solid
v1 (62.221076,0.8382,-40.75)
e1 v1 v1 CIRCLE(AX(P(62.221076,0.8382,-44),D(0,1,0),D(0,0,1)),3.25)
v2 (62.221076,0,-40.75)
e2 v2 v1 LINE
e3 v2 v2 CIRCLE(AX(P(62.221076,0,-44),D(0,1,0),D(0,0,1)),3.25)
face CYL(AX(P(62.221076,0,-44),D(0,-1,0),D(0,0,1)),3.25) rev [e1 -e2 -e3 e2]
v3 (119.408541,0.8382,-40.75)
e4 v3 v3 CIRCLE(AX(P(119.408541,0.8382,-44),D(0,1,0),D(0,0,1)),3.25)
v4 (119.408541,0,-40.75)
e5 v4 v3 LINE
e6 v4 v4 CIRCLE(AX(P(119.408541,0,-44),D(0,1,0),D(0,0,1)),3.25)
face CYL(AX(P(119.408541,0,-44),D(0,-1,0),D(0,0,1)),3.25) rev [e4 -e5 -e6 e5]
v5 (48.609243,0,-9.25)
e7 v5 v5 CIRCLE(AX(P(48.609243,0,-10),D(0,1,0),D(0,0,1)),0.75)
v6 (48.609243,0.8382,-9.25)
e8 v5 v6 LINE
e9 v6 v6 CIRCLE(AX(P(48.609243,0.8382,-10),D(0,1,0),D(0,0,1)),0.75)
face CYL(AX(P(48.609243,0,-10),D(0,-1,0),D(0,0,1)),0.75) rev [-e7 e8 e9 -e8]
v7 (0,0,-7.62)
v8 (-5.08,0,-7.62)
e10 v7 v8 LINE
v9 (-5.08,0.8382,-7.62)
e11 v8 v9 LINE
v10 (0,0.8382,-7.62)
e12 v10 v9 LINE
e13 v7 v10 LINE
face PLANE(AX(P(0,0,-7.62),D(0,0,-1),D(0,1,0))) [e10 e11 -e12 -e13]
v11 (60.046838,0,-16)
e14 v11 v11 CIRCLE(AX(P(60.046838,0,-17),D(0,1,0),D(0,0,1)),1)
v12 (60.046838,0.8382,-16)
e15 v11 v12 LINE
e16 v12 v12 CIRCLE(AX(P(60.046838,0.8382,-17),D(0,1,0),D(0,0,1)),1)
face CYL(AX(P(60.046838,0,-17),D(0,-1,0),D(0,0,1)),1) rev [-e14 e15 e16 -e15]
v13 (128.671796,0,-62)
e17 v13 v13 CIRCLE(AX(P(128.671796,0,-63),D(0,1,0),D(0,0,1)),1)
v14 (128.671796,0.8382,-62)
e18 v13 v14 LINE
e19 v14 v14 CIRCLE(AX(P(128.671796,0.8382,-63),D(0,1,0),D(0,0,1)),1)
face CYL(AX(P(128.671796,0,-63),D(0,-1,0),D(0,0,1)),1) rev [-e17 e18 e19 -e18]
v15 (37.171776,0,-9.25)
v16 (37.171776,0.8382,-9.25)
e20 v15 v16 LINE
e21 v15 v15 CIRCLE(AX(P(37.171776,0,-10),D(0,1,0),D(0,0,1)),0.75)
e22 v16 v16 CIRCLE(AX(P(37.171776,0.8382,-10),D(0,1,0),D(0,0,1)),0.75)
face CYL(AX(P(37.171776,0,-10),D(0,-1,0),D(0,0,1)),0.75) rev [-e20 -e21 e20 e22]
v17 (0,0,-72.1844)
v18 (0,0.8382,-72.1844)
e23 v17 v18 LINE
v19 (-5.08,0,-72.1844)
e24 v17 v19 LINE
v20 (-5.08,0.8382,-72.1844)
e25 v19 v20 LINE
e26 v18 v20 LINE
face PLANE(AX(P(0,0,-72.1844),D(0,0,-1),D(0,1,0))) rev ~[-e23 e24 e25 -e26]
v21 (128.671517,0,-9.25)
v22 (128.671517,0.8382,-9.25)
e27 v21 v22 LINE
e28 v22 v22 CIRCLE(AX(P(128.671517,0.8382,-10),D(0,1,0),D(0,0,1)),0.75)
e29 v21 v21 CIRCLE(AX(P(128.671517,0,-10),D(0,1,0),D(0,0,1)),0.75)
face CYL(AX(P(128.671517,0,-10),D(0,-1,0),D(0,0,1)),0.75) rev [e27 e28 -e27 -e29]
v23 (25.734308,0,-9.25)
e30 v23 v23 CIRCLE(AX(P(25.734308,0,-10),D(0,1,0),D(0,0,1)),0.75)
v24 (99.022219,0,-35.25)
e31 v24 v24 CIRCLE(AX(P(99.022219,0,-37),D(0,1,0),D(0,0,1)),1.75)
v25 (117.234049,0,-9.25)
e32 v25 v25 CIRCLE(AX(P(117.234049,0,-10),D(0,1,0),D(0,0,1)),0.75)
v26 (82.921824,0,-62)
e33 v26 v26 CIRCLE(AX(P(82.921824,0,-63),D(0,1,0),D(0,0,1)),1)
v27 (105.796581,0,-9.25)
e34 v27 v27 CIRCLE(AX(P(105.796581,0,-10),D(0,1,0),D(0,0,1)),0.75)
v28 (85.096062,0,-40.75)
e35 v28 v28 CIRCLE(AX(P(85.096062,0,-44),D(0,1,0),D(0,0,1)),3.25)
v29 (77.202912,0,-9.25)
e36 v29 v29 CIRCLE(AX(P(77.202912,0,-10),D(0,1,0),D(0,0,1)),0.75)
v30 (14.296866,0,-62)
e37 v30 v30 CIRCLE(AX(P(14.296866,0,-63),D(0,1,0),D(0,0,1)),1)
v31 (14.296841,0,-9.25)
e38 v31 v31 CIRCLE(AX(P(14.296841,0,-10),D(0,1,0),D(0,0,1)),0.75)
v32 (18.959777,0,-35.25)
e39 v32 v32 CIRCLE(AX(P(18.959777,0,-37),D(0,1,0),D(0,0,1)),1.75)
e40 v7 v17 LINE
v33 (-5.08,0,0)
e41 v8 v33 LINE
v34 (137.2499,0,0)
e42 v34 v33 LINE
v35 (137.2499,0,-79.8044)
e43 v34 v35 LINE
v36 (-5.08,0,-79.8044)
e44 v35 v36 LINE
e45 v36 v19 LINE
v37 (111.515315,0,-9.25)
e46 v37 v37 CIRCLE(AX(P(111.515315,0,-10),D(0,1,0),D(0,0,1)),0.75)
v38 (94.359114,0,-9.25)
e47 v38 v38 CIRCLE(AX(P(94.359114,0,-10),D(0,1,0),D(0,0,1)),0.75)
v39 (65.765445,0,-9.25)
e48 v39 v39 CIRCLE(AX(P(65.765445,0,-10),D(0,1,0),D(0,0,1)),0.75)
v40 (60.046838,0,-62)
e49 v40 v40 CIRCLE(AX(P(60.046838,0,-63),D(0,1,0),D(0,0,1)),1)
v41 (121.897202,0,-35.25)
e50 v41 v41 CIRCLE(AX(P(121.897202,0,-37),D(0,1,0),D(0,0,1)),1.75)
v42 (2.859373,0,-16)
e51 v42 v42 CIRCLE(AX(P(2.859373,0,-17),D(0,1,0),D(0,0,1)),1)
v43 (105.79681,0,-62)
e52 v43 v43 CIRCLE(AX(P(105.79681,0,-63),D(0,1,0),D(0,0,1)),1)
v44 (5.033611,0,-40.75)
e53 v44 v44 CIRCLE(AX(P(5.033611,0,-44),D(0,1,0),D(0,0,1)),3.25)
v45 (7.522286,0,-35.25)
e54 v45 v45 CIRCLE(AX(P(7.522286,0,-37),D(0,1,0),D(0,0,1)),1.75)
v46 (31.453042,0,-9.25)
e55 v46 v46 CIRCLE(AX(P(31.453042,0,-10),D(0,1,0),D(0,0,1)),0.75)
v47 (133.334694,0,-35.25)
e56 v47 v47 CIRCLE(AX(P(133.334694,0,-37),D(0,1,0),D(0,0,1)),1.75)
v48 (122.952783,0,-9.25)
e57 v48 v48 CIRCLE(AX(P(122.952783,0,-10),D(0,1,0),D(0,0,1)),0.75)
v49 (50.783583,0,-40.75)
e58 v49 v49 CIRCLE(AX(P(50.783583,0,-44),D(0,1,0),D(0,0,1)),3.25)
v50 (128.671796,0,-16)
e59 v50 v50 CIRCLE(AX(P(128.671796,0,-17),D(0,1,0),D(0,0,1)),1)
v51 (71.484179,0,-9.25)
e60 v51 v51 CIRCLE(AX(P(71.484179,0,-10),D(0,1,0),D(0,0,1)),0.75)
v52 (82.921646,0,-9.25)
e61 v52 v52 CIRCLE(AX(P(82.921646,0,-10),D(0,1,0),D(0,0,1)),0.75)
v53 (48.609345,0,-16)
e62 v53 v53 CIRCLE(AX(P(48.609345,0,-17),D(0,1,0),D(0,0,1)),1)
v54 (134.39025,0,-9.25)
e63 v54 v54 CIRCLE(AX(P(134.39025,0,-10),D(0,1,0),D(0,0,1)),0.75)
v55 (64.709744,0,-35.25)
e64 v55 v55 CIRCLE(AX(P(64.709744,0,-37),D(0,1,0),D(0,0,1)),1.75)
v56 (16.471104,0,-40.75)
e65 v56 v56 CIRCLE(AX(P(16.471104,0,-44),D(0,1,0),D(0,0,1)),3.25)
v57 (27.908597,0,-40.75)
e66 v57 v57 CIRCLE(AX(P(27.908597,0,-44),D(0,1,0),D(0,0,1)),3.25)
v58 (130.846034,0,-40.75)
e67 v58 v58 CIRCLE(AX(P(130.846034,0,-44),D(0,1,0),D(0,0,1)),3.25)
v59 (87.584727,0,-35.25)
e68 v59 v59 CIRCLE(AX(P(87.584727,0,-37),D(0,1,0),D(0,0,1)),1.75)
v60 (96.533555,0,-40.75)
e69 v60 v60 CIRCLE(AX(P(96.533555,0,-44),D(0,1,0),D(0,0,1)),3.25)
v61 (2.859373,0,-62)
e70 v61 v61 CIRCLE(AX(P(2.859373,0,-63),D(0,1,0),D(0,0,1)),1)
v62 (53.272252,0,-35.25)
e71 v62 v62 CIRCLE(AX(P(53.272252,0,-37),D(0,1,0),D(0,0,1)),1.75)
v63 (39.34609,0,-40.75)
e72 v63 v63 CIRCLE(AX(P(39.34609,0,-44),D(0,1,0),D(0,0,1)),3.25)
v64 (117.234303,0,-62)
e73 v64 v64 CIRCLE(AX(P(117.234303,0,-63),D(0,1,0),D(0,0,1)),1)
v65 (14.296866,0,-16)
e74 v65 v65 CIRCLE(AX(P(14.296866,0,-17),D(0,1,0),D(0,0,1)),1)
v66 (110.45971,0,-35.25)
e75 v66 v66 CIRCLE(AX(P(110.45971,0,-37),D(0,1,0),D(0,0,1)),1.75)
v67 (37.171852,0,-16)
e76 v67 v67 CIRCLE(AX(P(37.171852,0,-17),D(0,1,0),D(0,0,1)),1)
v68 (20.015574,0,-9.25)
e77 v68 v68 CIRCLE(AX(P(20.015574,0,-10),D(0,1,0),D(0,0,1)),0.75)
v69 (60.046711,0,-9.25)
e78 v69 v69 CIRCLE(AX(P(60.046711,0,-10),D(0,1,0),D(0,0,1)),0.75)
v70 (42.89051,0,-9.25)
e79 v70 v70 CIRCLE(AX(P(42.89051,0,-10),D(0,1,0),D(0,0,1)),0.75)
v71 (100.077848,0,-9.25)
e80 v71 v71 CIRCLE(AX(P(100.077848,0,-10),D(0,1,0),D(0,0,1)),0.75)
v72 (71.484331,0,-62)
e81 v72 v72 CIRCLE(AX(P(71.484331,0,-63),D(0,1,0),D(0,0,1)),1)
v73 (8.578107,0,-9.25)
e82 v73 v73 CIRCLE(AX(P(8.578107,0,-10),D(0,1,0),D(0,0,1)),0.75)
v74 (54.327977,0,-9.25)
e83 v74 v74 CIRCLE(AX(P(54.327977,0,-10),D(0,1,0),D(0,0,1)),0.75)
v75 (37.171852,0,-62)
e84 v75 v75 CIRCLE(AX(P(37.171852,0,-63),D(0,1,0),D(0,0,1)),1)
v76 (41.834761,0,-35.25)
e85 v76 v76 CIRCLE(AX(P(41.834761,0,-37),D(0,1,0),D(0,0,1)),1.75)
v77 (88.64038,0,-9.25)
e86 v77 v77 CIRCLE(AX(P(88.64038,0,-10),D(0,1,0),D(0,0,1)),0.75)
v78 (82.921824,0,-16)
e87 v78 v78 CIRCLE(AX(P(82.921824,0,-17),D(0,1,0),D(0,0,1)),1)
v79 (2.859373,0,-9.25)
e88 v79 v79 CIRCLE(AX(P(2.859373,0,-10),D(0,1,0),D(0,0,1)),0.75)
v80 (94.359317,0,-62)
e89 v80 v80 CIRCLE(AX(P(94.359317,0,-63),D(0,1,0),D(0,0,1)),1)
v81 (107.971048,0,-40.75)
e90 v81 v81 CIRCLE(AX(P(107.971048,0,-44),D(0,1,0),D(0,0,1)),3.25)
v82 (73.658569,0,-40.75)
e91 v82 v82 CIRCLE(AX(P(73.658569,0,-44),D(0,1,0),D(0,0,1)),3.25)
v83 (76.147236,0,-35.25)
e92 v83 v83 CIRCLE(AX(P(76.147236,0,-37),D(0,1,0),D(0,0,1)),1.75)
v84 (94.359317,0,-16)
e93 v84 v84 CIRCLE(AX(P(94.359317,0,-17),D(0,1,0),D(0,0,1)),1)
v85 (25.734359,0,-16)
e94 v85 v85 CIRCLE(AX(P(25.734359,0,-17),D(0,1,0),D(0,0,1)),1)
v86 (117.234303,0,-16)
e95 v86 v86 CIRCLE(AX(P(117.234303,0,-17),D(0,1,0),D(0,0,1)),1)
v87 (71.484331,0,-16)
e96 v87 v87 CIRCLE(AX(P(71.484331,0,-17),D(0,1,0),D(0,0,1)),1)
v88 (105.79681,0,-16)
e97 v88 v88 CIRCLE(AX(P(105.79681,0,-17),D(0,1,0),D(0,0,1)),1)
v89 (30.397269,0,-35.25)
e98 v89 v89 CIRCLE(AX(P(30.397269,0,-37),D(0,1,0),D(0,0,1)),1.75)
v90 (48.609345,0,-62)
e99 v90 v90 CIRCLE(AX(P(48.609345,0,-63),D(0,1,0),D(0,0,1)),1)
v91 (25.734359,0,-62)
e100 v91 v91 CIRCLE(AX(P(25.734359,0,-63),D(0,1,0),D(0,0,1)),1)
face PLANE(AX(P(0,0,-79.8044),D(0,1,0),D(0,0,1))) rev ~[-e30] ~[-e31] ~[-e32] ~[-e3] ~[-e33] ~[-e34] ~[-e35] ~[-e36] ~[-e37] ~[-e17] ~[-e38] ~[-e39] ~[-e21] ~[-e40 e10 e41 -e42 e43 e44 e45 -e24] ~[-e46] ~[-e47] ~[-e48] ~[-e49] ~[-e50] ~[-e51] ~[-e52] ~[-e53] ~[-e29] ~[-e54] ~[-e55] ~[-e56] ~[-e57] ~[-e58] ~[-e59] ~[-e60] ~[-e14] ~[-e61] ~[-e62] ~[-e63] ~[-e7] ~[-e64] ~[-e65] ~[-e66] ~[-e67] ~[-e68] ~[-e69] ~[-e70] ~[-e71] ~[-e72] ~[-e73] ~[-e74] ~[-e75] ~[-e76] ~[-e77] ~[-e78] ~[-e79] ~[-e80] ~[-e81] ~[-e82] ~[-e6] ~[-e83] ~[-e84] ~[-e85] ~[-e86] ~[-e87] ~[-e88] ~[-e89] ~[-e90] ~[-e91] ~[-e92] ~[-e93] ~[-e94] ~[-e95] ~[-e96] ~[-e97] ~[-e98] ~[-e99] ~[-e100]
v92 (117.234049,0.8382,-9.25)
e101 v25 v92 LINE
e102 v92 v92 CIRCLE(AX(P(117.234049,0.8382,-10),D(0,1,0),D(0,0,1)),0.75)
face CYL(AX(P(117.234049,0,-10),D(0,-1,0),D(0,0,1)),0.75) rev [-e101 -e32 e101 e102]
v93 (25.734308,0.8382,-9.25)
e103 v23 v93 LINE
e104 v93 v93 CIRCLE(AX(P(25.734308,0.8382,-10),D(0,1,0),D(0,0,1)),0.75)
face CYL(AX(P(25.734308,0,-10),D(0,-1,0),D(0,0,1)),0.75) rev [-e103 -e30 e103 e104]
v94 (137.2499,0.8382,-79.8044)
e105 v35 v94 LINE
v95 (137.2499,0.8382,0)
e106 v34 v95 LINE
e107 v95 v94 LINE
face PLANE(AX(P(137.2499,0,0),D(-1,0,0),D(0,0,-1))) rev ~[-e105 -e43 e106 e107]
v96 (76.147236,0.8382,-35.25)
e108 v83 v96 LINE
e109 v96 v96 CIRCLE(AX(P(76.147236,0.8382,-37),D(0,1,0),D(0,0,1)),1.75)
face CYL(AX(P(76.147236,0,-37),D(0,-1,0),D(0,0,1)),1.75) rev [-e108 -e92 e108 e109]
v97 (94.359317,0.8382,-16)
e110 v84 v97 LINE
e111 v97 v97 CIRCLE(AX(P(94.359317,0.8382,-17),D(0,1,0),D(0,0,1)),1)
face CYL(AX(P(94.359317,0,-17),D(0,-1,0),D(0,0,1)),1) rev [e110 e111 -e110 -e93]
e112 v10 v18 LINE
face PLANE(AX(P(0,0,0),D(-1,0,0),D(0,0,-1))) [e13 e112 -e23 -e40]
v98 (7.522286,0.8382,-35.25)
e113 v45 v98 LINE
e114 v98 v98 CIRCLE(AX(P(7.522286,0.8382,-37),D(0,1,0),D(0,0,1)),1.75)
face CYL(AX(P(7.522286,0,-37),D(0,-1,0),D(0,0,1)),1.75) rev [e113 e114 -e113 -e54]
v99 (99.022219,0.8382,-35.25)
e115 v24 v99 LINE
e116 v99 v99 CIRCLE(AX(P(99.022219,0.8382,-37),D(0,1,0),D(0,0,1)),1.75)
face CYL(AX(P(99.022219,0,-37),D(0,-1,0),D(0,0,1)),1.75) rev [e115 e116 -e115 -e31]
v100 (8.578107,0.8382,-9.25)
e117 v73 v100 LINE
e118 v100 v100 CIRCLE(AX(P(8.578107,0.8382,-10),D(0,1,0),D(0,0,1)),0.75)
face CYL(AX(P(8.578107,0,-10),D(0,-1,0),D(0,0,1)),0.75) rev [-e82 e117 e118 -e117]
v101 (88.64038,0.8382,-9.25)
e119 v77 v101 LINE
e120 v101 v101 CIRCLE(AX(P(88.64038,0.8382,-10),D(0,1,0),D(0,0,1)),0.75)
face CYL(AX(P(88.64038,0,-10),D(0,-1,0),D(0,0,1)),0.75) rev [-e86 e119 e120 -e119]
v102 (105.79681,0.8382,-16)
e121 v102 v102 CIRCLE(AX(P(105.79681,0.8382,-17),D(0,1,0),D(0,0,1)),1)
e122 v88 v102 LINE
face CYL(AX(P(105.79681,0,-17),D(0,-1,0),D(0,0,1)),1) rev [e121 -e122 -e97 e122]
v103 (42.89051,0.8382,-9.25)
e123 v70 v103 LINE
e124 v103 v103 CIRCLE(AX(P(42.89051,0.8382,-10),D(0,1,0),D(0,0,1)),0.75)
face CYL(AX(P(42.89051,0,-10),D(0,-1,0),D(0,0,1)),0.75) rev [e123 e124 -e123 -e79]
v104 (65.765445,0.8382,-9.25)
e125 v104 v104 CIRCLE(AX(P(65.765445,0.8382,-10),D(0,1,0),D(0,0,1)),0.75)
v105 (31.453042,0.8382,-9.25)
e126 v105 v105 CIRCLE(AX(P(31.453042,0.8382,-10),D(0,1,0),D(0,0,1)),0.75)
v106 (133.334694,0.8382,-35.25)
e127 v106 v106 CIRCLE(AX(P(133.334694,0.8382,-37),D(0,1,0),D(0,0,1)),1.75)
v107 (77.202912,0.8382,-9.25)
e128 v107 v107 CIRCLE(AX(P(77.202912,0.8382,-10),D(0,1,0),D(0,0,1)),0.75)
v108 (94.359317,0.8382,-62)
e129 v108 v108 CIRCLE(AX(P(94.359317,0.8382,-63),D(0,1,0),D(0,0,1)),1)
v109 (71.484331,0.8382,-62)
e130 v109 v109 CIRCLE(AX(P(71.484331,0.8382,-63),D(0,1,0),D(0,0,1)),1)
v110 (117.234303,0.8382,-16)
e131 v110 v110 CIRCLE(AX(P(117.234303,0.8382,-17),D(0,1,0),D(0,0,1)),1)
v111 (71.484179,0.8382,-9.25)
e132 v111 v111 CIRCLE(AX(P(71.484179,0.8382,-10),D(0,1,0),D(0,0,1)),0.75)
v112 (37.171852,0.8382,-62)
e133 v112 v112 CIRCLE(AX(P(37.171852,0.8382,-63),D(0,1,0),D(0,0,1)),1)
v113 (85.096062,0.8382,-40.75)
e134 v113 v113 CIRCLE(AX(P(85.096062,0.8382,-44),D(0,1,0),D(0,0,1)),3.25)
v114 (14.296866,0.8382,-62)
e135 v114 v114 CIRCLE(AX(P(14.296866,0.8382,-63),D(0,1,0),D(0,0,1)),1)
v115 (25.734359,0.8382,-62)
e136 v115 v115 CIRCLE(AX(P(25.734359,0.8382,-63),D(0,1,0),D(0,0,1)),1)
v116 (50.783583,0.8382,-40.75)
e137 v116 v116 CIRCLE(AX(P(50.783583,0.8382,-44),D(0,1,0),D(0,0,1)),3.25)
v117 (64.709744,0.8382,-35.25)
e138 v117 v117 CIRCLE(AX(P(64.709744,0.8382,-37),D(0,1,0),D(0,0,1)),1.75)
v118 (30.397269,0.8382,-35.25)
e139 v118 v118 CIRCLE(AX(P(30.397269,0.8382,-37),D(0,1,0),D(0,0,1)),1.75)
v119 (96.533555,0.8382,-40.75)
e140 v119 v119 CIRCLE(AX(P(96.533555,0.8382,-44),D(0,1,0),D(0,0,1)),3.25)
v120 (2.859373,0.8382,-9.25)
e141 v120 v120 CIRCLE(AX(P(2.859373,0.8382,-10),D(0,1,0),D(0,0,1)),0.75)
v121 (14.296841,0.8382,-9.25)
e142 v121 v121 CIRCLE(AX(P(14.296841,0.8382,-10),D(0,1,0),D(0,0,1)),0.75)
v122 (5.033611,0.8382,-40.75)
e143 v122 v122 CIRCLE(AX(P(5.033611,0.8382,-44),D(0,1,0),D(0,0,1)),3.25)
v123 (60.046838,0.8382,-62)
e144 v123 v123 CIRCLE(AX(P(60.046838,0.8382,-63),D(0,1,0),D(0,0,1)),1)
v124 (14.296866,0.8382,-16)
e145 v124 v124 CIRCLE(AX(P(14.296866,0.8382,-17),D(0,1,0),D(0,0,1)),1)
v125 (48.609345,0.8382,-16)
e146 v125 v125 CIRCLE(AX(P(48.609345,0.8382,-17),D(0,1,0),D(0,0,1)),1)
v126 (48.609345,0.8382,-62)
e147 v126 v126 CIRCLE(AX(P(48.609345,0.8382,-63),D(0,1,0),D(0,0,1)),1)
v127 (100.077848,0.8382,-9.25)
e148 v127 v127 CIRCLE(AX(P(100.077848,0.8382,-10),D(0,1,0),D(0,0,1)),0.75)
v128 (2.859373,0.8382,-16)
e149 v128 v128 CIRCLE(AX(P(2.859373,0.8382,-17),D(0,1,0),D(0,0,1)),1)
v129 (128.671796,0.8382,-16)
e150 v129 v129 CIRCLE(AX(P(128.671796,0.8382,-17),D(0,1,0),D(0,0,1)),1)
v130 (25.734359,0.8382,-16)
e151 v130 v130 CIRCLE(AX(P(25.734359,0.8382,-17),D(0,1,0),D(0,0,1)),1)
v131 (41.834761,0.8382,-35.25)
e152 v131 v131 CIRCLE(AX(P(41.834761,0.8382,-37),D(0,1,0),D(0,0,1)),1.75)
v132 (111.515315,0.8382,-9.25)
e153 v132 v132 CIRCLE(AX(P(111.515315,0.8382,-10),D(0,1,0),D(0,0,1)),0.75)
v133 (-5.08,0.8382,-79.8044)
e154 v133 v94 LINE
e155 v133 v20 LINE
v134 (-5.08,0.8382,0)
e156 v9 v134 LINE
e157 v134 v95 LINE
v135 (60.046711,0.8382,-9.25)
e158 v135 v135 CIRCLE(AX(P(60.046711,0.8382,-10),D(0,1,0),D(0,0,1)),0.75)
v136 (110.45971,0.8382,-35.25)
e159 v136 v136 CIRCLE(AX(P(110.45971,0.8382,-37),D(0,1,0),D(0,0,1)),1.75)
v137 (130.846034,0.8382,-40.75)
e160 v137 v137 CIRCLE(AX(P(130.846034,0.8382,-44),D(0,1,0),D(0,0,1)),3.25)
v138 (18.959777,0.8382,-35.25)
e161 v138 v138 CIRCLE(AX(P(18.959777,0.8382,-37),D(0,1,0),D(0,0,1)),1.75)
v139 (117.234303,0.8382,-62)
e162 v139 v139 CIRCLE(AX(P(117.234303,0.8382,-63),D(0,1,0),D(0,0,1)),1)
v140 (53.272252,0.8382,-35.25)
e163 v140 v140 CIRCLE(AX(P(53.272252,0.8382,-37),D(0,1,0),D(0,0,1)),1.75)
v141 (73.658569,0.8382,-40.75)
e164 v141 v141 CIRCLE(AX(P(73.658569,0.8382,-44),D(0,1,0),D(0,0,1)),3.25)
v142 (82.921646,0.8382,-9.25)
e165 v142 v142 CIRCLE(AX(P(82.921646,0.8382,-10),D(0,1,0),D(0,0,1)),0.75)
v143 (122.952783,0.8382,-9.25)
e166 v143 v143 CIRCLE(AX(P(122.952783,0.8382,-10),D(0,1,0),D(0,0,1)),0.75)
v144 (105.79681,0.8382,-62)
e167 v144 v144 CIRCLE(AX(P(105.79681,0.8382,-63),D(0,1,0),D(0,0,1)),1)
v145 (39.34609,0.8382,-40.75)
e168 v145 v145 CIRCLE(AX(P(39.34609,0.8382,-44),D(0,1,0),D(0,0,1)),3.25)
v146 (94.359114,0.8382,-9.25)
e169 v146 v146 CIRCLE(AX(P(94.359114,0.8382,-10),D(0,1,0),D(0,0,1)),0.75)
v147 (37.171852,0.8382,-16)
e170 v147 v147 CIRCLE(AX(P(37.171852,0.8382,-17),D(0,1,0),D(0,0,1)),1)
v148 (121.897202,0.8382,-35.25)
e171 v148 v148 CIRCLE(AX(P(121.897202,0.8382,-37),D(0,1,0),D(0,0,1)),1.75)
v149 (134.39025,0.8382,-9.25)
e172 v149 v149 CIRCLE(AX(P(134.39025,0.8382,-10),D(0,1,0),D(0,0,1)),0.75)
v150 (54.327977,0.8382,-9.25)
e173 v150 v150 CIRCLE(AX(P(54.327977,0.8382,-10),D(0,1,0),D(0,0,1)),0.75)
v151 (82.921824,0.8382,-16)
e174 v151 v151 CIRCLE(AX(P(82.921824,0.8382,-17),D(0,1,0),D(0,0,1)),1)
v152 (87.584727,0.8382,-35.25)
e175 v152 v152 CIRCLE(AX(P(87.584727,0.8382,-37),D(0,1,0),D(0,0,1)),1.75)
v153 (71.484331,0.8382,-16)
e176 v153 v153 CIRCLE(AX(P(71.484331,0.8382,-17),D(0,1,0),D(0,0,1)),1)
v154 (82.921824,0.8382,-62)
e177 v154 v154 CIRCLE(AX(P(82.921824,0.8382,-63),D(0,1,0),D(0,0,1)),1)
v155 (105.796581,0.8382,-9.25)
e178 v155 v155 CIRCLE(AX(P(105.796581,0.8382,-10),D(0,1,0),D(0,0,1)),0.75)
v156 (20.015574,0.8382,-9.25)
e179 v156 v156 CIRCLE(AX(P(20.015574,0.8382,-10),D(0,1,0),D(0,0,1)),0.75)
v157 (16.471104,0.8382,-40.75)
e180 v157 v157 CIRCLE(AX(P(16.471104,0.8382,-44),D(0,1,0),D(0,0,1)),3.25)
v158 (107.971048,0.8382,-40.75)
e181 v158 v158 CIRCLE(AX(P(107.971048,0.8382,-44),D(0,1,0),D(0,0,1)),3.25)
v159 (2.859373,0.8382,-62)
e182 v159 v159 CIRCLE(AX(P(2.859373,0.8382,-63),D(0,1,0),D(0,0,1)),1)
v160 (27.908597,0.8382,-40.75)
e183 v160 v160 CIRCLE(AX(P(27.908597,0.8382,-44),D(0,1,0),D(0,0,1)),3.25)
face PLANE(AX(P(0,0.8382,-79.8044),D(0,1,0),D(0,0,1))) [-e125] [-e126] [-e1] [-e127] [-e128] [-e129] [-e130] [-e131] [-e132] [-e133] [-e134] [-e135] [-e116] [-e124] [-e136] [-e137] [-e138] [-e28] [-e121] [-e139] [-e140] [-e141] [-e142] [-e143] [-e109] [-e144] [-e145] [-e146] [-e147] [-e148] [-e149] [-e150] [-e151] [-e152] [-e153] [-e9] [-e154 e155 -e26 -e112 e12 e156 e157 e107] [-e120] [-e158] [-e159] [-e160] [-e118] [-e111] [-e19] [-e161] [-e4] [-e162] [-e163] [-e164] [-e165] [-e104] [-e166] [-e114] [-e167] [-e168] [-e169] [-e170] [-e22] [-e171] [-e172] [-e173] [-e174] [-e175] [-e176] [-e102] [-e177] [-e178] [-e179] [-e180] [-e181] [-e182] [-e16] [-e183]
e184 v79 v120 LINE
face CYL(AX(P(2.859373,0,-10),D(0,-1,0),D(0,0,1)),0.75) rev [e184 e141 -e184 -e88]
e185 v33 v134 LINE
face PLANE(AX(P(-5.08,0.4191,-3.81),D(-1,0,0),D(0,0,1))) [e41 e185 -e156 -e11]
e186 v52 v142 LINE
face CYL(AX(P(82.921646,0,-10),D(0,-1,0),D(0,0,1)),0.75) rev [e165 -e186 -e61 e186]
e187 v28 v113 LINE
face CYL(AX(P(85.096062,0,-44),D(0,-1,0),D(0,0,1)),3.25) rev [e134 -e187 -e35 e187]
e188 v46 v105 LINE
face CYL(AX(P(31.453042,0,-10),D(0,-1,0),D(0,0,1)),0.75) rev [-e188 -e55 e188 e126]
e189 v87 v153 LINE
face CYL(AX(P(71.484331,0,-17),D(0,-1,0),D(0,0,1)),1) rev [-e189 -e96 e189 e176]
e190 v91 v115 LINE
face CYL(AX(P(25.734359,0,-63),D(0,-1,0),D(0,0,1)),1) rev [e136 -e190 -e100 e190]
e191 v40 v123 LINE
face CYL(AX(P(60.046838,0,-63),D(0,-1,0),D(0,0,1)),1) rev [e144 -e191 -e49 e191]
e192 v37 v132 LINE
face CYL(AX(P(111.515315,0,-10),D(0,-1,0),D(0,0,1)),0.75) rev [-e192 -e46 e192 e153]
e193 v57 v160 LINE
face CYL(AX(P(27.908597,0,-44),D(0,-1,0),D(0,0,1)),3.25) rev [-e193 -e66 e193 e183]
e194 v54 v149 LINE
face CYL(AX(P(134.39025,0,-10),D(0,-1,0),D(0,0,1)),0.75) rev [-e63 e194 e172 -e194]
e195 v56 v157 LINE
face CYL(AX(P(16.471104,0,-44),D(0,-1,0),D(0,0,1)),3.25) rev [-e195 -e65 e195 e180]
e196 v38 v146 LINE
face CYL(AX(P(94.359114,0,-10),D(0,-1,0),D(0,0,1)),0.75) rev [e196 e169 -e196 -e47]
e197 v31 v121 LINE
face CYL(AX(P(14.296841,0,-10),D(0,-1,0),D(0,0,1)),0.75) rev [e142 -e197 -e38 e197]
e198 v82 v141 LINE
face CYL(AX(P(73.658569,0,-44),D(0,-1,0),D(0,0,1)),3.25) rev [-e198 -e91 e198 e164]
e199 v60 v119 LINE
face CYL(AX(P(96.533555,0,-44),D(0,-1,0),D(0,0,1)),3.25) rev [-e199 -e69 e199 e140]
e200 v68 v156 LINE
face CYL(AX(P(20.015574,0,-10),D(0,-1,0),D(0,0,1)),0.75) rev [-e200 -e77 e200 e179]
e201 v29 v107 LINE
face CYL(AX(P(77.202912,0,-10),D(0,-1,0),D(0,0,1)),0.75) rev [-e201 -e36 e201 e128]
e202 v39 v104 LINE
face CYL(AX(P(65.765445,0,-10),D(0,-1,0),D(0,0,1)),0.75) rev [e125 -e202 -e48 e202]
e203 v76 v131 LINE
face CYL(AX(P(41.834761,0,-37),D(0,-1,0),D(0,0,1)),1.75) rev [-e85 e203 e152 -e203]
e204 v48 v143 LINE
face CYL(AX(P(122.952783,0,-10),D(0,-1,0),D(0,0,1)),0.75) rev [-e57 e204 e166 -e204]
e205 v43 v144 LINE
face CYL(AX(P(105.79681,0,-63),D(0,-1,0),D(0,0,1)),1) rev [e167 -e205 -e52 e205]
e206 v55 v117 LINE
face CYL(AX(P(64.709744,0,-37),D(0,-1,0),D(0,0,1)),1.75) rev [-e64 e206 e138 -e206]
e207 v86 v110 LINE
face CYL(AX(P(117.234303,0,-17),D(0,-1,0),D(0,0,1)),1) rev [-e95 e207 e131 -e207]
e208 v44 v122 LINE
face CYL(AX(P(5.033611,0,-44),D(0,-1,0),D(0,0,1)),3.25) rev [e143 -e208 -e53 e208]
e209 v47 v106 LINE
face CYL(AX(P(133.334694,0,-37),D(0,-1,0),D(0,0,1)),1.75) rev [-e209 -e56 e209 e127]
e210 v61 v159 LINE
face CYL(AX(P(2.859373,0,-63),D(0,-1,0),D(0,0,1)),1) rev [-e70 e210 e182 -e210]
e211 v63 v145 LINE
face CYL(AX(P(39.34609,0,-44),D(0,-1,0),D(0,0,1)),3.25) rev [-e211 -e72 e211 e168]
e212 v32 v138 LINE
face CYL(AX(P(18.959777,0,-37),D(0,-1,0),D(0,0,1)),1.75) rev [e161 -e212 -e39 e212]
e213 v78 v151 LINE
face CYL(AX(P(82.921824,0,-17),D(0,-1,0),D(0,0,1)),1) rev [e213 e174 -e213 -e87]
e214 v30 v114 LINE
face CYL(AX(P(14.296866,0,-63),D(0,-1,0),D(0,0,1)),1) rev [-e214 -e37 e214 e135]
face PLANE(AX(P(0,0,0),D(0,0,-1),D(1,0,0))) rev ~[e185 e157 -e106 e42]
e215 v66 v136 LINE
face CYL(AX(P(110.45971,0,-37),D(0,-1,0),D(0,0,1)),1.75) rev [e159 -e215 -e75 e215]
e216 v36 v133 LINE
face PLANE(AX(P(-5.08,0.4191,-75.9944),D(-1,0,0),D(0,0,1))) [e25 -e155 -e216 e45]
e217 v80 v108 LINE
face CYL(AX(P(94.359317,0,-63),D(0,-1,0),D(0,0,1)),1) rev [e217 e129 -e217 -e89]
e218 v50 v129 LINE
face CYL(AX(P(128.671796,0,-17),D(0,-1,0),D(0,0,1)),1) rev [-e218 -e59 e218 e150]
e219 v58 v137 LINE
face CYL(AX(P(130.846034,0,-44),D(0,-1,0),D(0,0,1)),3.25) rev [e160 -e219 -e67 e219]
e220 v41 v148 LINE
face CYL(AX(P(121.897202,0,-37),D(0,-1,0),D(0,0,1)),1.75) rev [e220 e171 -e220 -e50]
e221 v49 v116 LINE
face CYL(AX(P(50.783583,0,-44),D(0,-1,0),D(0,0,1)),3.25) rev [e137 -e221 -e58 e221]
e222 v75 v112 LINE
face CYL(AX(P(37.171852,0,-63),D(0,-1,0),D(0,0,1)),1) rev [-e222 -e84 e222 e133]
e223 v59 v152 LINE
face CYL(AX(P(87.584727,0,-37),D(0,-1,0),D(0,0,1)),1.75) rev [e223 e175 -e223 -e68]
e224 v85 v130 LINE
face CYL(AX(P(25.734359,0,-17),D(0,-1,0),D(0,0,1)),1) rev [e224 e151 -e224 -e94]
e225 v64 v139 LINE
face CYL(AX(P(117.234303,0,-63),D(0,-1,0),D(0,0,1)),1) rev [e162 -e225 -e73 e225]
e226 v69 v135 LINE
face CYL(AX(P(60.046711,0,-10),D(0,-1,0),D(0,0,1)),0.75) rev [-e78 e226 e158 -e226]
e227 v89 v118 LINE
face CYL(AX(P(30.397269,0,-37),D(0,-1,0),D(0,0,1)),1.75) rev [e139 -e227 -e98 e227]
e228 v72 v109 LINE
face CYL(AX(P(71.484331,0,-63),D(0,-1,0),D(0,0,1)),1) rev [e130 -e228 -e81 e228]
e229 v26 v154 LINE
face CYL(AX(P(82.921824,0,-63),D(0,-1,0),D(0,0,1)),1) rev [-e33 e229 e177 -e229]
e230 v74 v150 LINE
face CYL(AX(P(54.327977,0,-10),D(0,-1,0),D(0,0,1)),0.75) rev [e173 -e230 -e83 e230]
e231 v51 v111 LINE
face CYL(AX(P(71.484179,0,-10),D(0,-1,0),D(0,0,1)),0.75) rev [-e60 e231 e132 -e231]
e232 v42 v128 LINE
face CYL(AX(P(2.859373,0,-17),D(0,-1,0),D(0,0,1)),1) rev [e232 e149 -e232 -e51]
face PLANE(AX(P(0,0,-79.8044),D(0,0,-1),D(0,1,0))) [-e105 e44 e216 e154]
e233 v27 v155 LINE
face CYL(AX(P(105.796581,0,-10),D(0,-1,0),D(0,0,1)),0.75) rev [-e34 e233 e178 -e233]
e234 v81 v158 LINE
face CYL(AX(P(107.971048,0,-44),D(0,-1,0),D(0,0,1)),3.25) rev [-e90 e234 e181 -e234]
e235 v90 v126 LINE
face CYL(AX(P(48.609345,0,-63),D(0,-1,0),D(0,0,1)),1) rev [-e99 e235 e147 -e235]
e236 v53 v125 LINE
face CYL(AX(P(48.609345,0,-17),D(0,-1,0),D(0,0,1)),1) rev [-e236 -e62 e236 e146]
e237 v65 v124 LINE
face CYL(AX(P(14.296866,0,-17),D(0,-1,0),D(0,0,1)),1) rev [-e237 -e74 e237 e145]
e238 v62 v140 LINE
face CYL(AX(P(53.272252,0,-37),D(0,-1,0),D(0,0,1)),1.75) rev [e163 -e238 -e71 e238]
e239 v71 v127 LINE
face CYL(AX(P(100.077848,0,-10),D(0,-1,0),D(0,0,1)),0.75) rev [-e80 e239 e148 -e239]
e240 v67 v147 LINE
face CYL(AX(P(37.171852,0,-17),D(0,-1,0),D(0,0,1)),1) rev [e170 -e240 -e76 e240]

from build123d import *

# Parameters (mm, degrees)
SKETCH1_W           = 137.24989985
SKETCH1_H           = 79.804399954
SKETCH1_R           = 0.750000024
SKETCH1_R_2         = 1.000000032
SKETCH1_R_3         = 1.750000056
SKETCH1_R_4         = 3.249999977
BOSS_EXTRUDE1_DEPTH = 0.8382
SKETCH2_W           = 7.62
SKETCH2_H           = 0.8382
BOSS_EXTRUDE2_DEPTH = 5.08


with BuildPart() as part:
    # Sketch1 → Boss-Extrude1 (new body)
    with BuildSketch(Plane(origin=(0, 0, 0), x_dir=(1, 0, 0), z_dir=(0, 1, 0))):
        with Locations((68.624949925, 39.902199977)):
            Rectangle(SKETCH1_W, SKETCH1_H)
        with Locations(Location((2.859372911, 10.000000066, 0), (0, 0, 270))):
            Circle(SKETCH1_R, mode=Mode.SUBTRACT)
        with Locations(Location((8.578106711, 10.000000066, 0), (0, 0, 270))):
            Circle(SKETCH1_R, mode=Mode.SUBTRACT)
        with Locations(Location((14.296840511, 10.000000066, 0), (0, 0, 270))):
            Circle(SKETCH1_R, mode=Mode.SUBTRACT)
        with Locations(Location((20.015574311, 10.000000066, 0), (0, 0, 270))):
            Circle(SKETCH1_R, mode=Mode.SUBTRACT)
        with Locations(Location((25.734308111, 10.000000066, 0), (0, 0, 270))):
            Circle(SKETCH1_R, mode=Mode.SUBTRACT)
        with Locations(Location((31.453041911, 10.000000066, 0), (0, 0, 270))):
            Circle(SKETCH1_R, mode=Mode.SUBTRACT)
        with Locations(Location((37.171775711, 10.000000066, 0), (0, 0, 270))):
            Circle(SKETCH1_R, mode=Mode.SUBTRACT)
        with Locations(Location((42.890509511, 10.000000066, 0), (0, 0, 270))):
            Circle(SKETCH1_R, mode=Mode.SUBTRACT)
        with Locations(Location((48.609243311, 10.000000066, 0), (0, 0, 270))):
            Circle(SKETCH1_R, mode=Mode.SUBTRACT)
        with Locations(Location((54.327977111, 10.000000066, 0), (0, 0, 270))):
            Circle(SKETCH1_R, mode=Mode.SUBTRACT)
        with Locations(Location((60.046710911, 10.000000066, 0), (0, 0, 270))):
            Circle(SKETCH1_R, mode=Mode.SUBTRACT)
        with Locations(Location((65.765444711, 10.000000066, 0), (0, 0, 270))):
            Circle(SKETCH1_R, mode=Mode.SUBTRACT)
        with Locations(Location((71.484178511, 10.000000066, 0), (0, 0, 270))):
            Circle(SKETCH1_R, mode=Mode.SUBTRACT)
        with Locations(Location((77.202912311, 10.000000066, 0), (0, 0, 270))):
            Circle(SKETCH1_R, mode=Mode.SUBTRACT)
        with Locations(Location((82.921646111, 10.000000066, 0), (0, 0, 270))):
            Circle(SKETCH1_R, mode=Mode.SUBTRACT)
        with Locations(Location((88.640379911, 10.000000066, 0), (0, 0, 270))):
            Circle(SKETCH1_R, mode=Mode.SUBTRACT)
        with Locations(Location((94.359113711, 10.000000066, 0), (0, 0, 270))):
            Circle(SKETCH1_R, mode=Mode.SUBTRACT)
        with Locations(Location((100.077847511, 10.000000066, 0), (0, 0, 270))):
            Circle(SKETCH1_R, mode=Mode.SUBTRACT)
        with Locations(Location((105.796581311, 10.000000066, 0), (0, 0, 270))):
            Circle(SKETCH1_R, mode=Mode.SUBTRACT)
        with Locations(Location((111.515315111, 10.000000066, 0), (0, 0, 270))):
            Circle(SKETCH1_R, mode=Mode.SUBTRACT)
        with Locations(Location((117.234048911, 10.000000066, 0), (0, 0, 270))):
            Circle(SKETCH1_R, mode=Mode.SUBTRACT)
        with Locations(Location((122.952782711, 10.000000066, 0), (0, 0, 270))):
            Circle(SKETCH1_R, mode=Mode.SUBTRACT)
        with Locations(Location((128.671516511, 10.000000066, 0), (0, 0, 270))):
            Circle(SKETCH1_R, mode=Mode.SUBTRACT)
        with Locations(Location((134.390250311, 10.000000066, 0), (0, 0, 270))):
            Circle(SKETCH1_R, mode=Mode.SUBTRACT)
        with Locations(Location((2.859372911, 17.000000036, 0), (0, 0, 270))):
            Circle(SKETCH1_R_2, mode=Mode.SUBTRACT)
        with Locations(Location((14.296865911, 17.000000036, 0), (0, 0, 270))):
            Circle(SKETCH1_R_2, mode=Mode.SUBTRACT)
        with Locations(Location((25.734358911, 17.000000036, 0), (0, 0, 270))):
            Circle(SKETCH1_R_2, mode=Mode.SUBTRACT)
        with Locations(Location((37.171851911, 17.000000036, 0), (0, 0, 270))):
            Circle(SKETCH1_R_2, mode=Mode.SUBTRACT)
        with Locations(Location((48.609344911, 17.000000036, 0), (0, 0, 270))):
            Circle(SKETCH1_R_2, mode=Mode.SUBTRACT)
        with Locations(Location((60.046837911, 17.000000036, 0), (0, 0, 270))):
            Circle(SKETCH1_R_2, mode=Mode.SUBTRACT)
        with Locations(Location((71.484330911, 17.000000036, 0), (0, 0, 270))):
            Circle(SKETCH1_R_2, mode=Mode.SUBTRACT)
        with Locations(Location((82.921823911, 17.000000036, 0), (0, 0, 270))):
            Circle(SKETCH1_R_2, mode=Mode.SUBTRACT)
        with Locations(Location((94.359316911, 17.000000036, 0), (0, 0, 270))):
            Circle(SKETCH1_R_2, mode=Mode.SUBTRACT)
        with Locations(Location((105.796809911, 17.000000036, 0), (0, 0, 270))):
            Circle(SKETCH1_R_2, mode=Mode.SUBTRACT)
        with Locations(Location((117.234302911, 17.000000036, 0), (0, 0, 270))):
            Circle(SKETCH1_R_2, mode=Mode.SUBTRACT)
        with Locations(Location((128.671795911, 17.000000036, 0), (0, 0, 270))):
            Circle(SKETCH1_R_2, mode=Mode.SUBTRACT)
        with Locations(Location((7.52228568, 36.999999914, 0), (0, 0, 270))):
            Circle(SKETCH1_R_3, mode=Mode.SUBTRACT)
        with Locations(Location((18.959777325, 36.999999914, 0), (0, 0, 270))):
            Circle(SKETCH1_R_3, mode=Mode.SUBTRACT)
        with Locations(Location((30.397268971, 36.999999914, 0), (0, 0, 270))):
            Circle(SKETCH1_R_3, mode=Mode.SUBTRACT)
        with Locations(Location((41.834760616, 36.999999914, 0), (0, 0, 270))):
            Circle(SKETCH1_R_3, mode=Mode.SUBTRACT)
        with Locations(Location((53.272252261, 36.999999914, 0), (0, 0, 270))):
            Circle(SKETCH1_R_3, mode=Mode.SUBTRACT)
        with Locations(Location((64.709743907, 36.999999914, 0), (0, 0, 270))):
            Circle(SKETCH1_R_3, mode=Mode.SUBTRACT)
        with Locations(Location((76.147235552, 36.999999914, 0), (0, 0, 270))):
            Circle(SKETCH1_R_3, mode=Mode.SUBTRACT)
        with Locations(Location((87.584727197, 36.999999914, 0), (0, 0, 270))):
            Circle(SKETCH1_R_3, mode=Mode.SUBTRACT)
        with Locations(Location((99.022218843, 36.999999914, 0), (0, 0, 270))):
            Circle(SKETCH1_R_3, mode=Mode.SUBTRACT)
        with Locations(Location((110.459710488, 36.999999914, 0), (0, 0, 270))):
            Circle(SKETCH1_R_3, mode=Mode.SUBTRACT)
        with Locations(Location((121.897202133, 36.999999914, 0), (0, 0, 270))):
            Circle(SKETCH1_R_3, mode=Mode.SUBTRACT)
        with Locations(Location((133.334693779, 36.999999914, 0), (0, 0, 270))):
            Circle(SKETCH1_R_3, mode=Mode.SUBTRACT)
        with Locations(Location((5.033610572, 43.999999884, 0), (0, 0, 270))):
            Circle(SKETCH1_R_4, mode=Mode.SUBTRACT)
        with Locations(Location((16.471103572, 43.999999884, 0), (0, 0, 270))):
            Circle(SKETCH1_R_4, mode=Mode.SUBTRACT)
        with Locations(Location((27.908596572, 43.999999884, 0), (0, 0, 270))):
            Circle(SKETCH1_R_4, mode=Mode.SUBTRACT)
        with Locations(Location((39.346089572, 43.999999884, 0), (0, 0, 270))):
            Circle(SKETCH1_R_4, mode=Mode.SUBTRACT)
        with Locations(Location((50.783582572, 43.999999884, 0), (0, 0, 270))):
            Circle(SKETCH1_R_4, mode=Mode.SUBTRACT)
        with Locations(Location((62.221075572, 43.999999884, 0), (0, 0, 270))):
            Circle(SKETCH1_R_4, mode=Mode.SUBTRACT)
        with Locations(Location((73.658568572, 43.999999884, 0), (0, 0, 270))):
            Circle(SKETCH1_R_4, mode=Mode.SUBTRACT)
        with Locations(Location((85.096061572, 43.999999884, 0), (0, 0, 270))):
            Circle(SKETCH1_R_4, mode=Mode.SUBTRACT)
        with Locations(Location((96.533554572, 43.999999884, 0), (0, 0, 270))):
            Circle(SKETCH1_R_4, mode=Mode.SUBTRACT)
        with Locations(Location((107.971047572, 43.999999884, 0), (0, 0, 270))):
            Circle(SKETCH1_R_4, mode=Mode.SUBTRACT)
        with Locations(Location((119.408540572, 43.999999884, 0), (0, 0, 270))):
            Circle(SKETCH1_R_4, mode=Mode.SUBTRACT)
        with Locations(Location((130.846033572, 43.999999884, 0), (0, 0, 270))):
            Circle(SKETCH1_R_4, mode=Mode.SUBTRACT)
        with Locations(Location((2.859372911, 62.999999984, 0), (0, 0, 270))):
            Circle(SKETCH1_R_2, mode=Mode.SUBTRACT)
        with Locations(Location((14.296865911, 62.999999984, 0), (0, 0, 270))):
            Circle(SKETCH1_R_2, mode=Mode.SUBTRACT)
        with Locations(Location((25.734358911, 62.999999984, 0), (0, 0, 270))):
            Circle(SKETCH1_R_2, mode=Mode.SUBTRACT)
        with Locations(Location((37.171851911, 62.999999984, 0), (0, 0, 270))):
            Circle(SKETCH1_R_2, mode=Mode.SUBTRACT)
        with Locations(Location((48.609344911, 62.999999984, 0), (0, 0, 270))):
            Circle(SKETCH1_R_2, mode=Mode.SUBTRACT)
        with Locations(Location((60.046837911, 62.999999984, 0), (0, 0, 270))):
            Circle(SKETCH1_R_2, mode=Mode.SUBTRACT)
        with Locations(Location((71.484330911, 62.999999984, 0), (0, 0, 270))):
            Circle(SKETCH1_R_2, mode=Mode.SUBTRACT)
        with Locations(Location((82.921823911, 62.999999984, 0), (0, 0, 270))):
            Circle(SKETCH1_R_2, mode=Mode.SUBTRACT)
        with Locations(Location((94.359316911, 62.999999984, 0), (0, 0, 270))):
            Circle(SKETCH1_R_2, mode=Mode.SUBTRACT)
        with Locations(Location((105.796809911, 62.999999984, 0), (0, 0, 270))):
            Circle(SKETCH1_R_2, mode=Mode.SUBTRACT)
        with Locations(Location((117.234302911, 62.999999984, 0), (0, 0, 270))):
            Circle(SKETCH1_R_2, mode=Mode.SUBTRACT)
        with Locations(Location((128.671795911, 62.999999984, 0), (0, 0, 270))):
            Circle(SKETCH1_R_2, mode=Mode.SUBTRACT)
    extrude(amount=BOSS_EXTRUDE1_DEPTH)

    # Sketch2 → Boss-Extrude2 (add)
    with BuildSketch(Plane.ZY):
        with Locations((-75.994399954, 0.4191)):
            Rectangle(SKETCH2_W, SKETCH2_H)
        with Locations((-3.81, 0.4191)):
            Rectangle(SKETCH2_W, SKETCH2_H)
    extrude(amount=BOSS_EXTRUDE2_DEPTH)


solid = part.part
